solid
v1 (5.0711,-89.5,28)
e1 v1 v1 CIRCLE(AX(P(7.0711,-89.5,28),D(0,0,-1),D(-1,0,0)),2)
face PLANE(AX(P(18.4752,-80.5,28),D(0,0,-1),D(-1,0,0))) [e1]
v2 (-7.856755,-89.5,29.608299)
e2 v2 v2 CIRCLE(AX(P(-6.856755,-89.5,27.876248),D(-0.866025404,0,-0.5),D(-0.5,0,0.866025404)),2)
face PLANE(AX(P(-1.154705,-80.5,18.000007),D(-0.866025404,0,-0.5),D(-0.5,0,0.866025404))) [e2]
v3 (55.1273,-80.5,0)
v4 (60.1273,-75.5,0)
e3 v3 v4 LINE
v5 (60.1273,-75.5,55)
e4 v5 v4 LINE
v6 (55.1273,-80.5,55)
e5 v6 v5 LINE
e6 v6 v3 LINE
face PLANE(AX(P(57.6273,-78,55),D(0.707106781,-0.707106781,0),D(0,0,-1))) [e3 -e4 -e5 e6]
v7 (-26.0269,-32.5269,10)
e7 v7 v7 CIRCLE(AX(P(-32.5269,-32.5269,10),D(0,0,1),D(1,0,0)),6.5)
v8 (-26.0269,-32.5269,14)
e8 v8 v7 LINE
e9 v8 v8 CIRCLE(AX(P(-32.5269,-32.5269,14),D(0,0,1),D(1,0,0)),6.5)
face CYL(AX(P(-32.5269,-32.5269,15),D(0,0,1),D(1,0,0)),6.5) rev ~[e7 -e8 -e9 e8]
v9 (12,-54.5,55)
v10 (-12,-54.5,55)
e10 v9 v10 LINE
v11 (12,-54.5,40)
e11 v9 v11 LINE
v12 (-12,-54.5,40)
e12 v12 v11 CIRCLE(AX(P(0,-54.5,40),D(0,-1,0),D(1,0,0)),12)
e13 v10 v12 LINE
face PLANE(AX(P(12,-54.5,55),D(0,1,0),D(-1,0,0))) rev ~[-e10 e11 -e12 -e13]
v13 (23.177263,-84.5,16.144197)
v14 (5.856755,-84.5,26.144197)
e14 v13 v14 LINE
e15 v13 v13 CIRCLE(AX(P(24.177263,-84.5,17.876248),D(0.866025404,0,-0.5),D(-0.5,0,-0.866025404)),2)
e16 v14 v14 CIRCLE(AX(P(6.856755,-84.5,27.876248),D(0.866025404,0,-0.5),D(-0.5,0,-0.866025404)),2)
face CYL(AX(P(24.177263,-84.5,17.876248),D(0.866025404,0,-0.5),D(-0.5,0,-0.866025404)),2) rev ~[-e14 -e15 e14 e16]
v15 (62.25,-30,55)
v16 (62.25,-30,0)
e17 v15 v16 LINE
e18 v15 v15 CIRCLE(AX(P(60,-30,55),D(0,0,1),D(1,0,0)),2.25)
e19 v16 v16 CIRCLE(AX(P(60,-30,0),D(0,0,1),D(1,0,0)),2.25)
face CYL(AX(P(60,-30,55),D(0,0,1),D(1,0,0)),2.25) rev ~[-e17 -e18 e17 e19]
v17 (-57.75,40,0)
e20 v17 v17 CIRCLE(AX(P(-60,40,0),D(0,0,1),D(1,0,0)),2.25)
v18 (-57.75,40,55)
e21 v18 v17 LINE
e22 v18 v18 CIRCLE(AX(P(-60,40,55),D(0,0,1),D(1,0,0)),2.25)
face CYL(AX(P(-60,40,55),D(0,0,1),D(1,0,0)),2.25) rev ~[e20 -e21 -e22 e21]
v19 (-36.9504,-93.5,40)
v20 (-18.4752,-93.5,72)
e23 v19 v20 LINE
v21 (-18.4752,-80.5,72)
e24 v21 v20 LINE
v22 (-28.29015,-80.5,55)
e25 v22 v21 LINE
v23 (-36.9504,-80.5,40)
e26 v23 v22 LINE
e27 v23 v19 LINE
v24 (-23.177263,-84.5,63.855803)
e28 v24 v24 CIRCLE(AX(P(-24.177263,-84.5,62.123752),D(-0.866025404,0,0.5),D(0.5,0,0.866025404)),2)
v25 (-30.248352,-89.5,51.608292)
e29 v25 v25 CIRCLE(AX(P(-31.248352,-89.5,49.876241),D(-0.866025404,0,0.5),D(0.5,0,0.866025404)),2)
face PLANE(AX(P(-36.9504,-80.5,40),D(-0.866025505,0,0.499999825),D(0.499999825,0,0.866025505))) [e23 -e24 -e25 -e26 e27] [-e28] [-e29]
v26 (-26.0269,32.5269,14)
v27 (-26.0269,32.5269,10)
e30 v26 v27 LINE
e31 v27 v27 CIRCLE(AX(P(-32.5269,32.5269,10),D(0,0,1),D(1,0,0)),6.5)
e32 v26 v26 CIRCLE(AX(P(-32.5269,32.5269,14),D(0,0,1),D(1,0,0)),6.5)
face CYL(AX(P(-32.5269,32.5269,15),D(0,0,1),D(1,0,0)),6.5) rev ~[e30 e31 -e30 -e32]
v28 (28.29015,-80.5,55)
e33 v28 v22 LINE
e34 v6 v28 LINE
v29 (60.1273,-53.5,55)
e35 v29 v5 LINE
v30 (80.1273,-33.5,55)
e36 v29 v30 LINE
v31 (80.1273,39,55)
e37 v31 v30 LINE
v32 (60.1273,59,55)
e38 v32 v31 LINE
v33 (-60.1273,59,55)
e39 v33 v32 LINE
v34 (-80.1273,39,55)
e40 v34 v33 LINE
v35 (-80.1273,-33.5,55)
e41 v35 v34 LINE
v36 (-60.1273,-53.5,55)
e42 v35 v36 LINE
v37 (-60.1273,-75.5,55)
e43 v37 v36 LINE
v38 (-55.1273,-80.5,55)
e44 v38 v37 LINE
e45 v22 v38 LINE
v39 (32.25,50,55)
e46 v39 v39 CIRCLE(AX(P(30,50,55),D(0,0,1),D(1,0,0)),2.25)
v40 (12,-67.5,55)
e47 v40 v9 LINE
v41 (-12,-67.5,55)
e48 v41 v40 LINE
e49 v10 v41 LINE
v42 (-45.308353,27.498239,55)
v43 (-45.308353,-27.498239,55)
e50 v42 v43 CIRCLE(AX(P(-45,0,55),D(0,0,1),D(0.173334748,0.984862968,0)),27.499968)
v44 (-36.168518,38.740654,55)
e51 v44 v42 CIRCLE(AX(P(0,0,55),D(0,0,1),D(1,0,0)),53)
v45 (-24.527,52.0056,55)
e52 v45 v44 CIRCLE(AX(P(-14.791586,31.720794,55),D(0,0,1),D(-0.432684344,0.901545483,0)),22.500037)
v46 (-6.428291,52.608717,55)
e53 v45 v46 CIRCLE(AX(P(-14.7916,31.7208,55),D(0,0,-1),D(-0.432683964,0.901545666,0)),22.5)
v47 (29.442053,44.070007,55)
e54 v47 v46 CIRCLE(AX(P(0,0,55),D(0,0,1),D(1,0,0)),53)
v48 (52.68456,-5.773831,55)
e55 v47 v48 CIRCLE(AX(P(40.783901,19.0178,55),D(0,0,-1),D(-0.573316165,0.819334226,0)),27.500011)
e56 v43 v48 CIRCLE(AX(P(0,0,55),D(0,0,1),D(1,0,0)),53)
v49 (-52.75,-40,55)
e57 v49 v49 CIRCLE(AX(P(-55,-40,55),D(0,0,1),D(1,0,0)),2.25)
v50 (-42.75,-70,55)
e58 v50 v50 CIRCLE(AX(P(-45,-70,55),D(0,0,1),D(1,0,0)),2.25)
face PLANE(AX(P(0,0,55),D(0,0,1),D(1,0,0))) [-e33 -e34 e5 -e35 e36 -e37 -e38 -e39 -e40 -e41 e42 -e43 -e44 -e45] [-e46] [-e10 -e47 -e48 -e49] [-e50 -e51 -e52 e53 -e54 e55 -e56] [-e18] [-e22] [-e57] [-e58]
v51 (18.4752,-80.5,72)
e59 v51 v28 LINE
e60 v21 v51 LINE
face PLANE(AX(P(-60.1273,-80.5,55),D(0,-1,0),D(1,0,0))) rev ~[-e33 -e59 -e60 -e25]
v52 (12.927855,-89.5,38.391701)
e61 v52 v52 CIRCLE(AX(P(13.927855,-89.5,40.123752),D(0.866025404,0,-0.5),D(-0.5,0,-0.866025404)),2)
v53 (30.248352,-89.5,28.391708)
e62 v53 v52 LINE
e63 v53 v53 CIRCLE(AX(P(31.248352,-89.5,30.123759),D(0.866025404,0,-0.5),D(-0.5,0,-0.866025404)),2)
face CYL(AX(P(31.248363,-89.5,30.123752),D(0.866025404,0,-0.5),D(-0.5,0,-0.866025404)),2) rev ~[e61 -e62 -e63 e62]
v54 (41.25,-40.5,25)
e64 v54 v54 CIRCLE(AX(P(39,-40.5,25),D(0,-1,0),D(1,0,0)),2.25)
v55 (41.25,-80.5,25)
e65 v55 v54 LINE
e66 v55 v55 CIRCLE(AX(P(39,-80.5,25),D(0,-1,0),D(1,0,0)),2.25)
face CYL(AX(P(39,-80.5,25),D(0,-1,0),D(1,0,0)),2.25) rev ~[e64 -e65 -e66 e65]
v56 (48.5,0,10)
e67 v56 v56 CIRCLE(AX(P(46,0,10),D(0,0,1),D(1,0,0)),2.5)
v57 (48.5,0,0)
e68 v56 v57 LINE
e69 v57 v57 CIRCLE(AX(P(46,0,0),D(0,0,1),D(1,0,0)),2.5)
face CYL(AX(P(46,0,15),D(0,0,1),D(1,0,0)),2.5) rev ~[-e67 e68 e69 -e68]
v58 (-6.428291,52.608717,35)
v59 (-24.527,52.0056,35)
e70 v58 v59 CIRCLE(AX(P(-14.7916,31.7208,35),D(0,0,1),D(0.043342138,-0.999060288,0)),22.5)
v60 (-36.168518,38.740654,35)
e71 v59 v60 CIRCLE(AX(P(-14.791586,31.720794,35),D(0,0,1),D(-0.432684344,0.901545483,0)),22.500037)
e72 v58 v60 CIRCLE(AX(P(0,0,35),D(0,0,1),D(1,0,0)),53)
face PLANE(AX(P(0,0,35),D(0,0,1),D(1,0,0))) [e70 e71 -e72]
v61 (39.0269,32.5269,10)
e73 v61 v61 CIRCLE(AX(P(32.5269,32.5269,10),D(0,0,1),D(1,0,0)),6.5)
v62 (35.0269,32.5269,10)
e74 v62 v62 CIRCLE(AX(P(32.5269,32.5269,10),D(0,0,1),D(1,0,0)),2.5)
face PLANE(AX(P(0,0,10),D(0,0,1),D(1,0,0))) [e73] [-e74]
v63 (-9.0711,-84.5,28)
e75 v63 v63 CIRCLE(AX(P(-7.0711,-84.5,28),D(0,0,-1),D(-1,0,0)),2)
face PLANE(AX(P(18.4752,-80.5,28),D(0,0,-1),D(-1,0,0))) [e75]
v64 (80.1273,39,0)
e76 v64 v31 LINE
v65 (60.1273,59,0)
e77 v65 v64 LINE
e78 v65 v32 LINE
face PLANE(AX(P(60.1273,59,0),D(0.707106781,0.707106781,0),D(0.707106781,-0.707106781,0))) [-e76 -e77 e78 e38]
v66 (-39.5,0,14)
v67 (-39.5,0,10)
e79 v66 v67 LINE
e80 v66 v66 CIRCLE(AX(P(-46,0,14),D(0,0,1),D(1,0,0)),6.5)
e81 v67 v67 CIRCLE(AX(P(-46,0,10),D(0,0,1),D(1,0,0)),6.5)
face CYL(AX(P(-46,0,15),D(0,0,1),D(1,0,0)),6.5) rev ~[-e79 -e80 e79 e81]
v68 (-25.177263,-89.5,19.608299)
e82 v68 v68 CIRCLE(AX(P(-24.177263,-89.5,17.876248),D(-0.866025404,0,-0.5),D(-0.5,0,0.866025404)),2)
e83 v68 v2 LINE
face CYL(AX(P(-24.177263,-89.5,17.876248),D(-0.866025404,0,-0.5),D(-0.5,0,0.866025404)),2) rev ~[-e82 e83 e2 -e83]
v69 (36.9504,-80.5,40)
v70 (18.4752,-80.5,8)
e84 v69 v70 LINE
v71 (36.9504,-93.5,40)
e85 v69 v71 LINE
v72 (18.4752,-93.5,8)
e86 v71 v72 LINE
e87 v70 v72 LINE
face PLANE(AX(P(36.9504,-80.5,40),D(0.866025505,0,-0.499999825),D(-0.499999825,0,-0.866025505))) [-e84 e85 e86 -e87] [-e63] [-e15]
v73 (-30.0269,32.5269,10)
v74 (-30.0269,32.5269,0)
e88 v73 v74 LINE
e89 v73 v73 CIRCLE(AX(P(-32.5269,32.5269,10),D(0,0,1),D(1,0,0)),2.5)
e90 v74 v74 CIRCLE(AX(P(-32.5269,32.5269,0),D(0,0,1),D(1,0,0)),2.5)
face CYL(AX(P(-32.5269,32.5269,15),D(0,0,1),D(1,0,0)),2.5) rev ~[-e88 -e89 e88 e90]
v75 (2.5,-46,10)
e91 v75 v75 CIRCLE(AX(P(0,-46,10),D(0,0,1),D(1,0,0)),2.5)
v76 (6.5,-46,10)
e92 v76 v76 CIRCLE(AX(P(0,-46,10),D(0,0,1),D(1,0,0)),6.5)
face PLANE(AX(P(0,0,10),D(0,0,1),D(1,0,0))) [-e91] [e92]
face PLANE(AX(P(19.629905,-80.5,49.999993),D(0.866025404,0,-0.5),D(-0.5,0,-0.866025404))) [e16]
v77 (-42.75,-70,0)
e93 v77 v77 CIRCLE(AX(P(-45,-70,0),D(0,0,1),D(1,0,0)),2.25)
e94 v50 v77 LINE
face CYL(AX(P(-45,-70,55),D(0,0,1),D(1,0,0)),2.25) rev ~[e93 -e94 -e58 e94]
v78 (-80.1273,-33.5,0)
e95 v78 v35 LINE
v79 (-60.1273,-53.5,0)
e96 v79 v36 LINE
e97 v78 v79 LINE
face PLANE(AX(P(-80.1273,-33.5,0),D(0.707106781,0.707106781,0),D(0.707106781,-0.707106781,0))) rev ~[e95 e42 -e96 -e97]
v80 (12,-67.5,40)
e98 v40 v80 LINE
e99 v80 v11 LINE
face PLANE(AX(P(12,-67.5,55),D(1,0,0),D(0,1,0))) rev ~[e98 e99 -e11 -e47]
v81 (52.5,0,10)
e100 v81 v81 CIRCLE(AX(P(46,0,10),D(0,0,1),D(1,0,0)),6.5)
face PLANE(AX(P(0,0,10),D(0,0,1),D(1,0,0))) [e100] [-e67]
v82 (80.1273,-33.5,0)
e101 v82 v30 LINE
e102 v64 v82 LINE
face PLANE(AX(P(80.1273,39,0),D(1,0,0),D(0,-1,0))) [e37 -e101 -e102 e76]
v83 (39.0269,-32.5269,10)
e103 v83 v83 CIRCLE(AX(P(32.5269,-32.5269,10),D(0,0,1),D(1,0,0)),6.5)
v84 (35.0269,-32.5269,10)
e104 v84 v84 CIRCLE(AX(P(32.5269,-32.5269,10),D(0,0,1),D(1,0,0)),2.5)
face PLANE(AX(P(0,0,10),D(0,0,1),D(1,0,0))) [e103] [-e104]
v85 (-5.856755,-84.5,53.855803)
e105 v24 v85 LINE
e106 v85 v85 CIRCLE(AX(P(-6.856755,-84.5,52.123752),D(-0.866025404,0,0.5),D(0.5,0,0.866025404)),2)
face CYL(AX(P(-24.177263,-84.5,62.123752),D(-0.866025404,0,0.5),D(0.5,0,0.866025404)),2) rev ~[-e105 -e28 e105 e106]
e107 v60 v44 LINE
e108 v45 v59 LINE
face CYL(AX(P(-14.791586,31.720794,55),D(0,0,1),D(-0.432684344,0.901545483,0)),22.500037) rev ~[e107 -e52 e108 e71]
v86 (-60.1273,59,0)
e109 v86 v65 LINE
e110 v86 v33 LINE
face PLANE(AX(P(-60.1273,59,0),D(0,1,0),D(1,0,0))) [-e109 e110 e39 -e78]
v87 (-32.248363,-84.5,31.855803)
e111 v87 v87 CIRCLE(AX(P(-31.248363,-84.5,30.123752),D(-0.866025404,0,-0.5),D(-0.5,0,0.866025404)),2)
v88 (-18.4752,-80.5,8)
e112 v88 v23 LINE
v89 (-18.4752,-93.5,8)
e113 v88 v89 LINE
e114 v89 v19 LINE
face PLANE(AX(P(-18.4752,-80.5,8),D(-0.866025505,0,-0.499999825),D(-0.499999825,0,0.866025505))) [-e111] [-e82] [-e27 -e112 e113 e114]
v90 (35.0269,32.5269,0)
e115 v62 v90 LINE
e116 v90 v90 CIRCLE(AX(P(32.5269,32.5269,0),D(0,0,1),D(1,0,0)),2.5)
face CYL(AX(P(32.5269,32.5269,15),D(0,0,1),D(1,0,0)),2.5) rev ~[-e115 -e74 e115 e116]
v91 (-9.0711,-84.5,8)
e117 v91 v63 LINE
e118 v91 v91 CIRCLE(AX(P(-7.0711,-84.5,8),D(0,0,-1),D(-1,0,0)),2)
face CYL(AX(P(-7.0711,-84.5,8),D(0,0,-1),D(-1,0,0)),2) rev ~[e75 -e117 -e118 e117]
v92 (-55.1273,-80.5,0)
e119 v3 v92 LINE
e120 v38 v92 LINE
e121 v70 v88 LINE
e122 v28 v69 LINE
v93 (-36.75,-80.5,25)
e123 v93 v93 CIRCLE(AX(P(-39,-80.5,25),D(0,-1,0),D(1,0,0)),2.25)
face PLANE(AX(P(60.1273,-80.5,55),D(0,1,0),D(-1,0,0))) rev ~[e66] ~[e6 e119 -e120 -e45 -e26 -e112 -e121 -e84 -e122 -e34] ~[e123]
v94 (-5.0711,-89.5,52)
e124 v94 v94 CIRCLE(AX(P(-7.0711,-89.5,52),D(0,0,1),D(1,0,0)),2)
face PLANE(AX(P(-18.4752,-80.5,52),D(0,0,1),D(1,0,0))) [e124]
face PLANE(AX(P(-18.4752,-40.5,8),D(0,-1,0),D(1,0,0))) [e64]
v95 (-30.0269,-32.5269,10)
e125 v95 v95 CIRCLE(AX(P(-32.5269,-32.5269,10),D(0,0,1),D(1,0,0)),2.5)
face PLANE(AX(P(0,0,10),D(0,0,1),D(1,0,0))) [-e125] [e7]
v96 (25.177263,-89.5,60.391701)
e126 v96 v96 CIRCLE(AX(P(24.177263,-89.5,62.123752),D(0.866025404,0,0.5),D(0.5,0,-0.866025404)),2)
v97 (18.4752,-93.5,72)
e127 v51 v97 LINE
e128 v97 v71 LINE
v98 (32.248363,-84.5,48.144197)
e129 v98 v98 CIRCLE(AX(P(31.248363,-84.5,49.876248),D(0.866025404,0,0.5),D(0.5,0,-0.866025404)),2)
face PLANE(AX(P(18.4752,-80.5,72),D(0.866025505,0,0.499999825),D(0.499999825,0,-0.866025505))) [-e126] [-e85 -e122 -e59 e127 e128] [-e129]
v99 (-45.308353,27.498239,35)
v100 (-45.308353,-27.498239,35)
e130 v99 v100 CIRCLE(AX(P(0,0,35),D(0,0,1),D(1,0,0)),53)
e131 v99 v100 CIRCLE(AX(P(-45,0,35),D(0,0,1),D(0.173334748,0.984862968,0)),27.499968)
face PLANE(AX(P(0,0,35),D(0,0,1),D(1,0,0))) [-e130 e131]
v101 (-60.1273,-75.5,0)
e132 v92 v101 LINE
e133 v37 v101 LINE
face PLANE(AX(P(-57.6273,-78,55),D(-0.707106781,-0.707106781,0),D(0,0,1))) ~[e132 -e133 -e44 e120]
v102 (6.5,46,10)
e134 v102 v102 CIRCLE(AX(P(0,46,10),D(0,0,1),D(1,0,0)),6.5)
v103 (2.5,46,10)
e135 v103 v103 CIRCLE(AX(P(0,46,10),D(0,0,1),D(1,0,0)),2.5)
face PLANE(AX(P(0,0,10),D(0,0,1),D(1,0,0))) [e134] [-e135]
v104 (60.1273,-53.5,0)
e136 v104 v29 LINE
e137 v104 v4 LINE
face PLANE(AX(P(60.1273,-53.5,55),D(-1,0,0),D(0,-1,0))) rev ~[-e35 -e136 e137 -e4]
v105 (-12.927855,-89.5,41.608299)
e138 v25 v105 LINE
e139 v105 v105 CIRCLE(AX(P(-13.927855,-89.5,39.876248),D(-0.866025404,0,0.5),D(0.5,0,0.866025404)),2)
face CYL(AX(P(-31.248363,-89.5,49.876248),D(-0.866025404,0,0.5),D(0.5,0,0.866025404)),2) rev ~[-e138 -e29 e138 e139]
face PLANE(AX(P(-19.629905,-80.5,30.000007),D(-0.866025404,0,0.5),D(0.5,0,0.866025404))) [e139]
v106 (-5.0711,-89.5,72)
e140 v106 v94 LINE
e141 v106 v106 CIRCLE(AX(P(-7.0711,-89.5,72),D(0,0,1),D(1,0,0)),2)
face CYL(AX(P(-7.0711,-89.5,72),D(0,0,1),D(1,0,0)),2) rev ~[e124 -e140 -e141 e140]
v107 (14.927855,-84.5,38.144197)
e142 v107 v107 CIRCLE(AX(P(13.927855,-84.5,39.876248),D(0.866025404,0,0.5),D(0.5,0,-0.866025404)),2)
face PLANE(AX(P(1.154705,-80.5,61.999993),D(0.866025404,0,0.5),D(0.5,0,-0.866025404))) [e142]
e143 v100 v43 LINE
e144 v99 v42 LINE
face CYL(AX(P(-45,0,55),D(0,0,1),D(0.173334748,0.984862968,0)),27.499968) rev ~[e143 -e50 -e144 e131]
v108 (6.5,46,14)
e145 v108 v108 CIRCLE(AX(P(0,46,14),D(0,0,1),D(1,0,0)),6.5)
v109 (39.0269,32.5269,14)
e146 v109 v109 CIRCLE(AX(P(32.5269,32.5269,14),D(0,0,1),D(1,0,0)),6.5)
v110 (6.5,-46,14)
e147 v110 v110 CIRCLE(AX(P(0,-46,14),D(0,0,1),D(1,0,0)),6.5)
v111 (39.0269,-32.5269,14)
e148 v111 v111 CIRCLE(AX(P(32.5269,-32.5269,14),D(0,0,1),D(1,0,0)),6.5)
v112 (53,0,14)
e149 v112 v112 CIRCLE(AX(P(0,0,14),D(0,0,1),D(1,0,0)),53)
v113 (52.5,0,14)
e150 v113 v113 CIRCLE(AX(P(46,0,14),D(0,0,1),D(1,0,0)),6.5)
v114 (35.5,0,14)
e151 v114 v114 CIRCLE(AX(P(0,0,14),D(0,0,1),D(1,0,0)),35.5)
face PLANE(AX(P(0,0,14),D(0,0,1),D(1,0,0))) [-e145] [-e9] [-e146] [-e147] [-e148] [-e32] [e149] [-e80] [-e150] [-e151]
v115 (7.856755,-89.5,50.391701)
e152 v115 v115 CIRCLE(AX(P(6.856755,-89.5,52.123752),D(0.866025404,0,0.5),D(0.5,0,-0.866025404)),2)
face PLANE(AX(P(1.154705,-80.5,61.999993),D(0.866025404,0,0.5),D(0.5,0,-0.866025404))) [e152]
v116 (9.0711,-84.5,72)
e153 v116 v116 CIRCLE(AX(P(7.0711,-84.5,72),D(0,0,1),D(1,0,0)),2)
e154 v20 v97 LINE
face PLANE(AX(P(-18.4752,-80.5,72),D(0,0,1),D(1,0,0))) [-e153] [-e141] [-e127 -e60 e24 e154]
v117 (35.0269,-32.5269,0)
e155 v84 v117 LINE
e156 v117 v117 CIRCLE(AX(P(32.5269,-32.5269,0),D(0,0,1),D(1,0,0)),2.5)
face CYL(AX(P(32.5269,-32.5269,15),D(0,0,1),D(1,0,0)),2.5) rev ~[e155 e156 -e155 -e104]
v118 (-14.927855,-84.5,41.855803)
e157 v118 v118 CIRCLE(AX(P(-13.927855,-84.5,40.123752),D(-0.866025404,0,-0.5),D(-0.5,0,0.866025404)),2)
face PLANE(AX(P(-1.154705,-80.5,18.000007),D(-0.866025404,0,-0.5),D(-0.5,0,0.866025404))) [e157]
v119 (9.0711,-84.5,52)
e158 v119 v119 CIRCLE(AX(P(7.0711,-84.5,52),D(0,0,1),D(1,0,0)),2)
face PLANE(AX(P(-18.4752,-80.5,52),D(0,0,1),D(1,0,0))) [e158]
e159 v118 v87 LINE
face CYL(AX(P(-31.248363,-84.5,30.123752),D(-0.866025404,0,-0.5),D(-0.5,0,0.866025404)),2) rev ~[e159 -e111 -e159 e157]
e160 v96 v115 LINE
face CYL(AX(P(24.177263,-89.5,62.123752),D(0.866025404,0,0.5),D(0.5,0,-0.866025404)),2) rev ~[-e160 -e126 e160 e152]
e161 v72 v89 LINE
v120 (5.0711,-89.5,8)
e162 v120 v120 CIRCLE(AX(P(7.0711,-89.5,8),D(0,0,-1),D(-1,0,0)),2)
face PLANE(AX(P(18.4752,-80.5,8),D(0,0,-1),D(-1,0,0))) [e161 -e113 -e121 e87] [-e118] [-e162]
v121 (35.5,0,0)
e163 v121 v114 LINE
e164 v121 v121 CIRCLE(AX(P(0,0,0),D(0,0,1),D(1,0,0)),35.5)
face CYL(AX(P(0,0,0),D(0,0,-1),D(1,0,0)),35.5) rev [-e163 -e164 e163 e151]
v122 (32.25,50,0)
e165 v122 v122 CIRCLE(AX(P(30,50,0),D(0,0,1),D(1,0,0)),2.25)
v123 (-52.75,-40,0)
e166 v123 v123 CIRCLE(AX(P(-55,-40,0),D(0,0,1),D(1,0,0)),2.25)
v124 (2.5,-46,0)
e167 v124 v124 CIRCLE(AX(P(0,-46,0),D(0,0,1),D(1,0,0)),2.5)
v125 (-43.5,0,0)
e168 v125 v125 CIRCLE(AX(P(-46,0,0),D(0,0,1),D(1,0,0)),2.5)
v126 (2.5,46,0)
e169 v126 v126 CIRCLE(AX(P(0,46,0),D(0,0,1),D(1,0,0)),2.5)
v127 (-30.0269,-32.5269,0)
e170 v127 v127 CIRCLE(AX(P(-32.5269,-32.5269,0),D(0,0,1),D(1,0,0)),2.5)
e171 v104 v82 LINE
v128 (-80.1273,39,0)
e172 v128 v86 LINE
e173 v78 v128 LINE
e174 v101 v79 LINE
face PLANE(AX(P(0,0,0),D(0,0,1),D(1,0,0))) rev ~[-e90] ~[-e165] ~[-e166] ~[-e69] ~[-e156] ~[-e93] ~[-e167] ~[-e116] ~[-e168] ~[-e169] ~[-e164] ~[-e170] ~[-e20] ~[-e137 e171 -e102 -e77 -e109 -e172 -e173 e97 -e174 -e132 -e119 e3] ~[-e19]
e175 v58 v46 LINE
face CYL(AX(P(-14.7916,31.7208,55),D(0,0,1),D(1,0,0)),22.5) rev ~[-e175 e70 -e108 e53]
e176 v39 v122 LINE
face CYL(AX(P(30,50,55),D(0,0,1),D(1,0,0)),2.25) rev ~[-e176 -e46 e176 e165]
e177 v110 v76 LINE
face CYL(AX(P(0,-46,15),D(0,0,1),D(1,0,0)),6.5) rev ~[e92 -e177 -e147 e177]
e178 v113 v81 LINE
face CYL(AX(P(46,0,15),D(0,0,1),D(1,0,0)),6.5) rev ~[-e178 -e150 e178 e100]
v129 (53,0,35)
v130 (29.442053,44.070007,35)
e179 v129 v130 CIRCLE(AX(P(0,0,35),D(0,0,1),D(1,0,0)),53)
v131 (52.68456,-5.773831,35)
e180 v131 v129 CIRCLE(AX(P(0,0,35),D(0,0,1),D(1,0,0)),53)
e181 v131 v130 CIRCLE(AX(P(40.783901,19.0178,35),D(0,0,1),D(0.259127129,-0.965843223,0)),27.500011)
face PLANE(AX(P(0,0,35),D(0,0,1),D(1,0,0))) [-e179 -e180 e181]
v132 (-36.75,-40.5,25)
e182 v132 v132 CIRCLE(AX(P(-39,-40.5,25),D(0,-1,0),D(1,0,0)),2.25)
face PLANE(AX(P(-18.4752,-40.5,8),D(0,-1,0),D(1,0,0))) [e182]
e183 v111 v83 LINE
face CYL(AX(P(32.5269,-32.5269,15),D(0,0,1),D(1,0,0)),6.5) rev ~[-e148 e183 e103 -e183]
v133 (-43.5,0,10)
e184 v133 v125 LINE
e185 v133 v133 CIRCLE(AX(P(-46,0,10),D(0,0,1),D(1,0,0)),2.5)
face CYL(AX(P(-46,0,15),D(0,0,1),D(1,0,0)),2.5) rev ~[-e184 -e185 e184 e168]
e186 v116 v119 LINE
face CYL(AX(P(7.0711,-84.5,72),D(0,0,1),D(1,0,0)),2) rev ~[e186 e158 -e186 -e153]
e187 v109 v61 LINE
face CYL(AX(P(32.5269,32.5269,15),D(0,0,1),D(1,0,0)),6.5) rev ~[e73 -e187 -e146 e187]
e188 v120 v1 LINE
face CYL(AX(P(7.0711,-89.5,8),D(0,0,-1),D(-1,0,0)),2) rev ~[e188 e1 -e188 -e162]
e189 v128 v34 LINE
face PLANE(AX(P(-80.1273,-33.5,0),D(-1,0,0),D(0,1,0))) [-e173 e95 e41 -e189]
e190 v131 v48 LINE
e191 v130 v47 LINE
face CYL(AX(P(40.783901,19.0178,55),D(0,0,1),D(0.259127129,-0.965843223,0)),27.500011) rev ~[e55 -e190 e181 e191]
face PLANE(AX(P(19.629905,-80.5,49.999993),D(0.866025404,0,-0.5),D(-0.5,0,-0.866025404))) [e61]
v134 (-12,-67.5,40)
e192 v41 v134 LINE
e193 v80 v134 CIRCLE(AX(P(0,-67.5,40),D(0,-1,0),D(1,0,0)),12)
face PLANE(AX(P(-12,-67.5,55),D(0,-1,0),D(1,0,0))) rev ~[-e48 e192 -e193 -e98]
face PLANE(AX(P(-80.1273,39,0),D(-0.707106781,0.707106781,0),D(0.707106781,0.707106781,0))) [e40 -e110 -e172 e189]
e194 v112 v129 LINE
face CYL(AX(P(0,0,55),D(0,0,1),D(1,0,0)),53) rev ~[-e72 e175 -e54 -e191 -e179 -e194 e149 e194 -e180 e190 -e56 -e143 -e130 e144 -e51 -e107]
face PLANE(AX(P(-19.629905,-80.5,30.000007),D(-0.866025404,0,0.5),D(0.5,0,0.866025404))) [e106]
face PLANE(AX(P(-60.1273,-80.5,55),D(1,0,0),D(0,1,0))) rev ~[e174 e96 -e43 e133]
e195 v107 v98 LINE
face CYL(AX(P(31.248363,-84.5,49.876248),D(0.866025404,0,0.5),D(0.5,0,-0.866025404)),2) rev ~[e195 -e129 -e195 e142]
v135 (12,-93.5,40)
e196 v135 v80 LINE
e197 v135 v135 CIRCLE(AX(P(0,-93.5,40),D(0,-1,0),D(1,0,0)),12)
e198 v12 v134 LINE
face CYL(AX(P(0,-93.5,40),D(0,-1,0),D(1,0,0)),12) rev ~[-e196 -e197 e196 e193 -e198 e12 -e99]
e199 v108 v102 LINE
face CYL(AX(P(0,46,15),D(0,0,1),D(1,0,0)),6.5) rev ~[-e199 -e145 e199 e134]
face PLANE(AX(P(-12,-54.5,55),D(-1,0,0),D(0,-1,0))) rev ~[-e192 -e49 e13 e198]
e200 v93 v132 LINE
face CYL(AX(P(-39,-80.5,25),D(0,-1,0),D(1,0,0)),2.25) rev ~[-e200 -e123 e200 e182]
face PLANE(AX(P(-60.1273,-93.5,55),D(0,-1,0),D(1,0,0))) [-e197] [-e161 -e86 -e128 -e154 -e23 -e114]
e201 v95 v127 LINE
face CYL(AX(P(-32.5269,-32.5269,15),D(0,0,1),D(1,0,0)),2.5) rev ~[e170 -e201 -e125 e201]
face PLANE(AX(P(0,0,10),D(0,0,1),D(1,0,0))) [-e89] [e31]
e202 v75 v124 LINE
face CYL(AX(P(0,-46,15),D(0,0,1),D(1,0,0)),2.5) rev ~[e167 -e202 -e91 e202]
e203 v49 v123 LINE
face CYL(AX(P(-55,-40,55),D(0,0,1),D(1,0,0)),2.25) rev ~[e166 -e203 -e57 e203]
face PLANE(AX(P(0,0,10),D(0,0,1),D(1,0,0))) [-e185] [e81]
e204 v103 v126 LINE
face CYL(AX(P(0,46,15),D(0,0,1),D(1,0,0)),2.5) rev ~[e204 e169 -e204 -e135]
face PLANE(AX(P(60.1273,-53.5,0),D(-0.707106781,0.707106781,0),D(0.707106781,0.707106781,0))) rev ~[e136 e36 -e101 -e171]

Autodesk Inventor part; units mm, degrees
ref_plane "YZ Plane" through (0, 0, 0) normal (1, 0, 0) x (0, 1, 0)
ref_plane "XZ Plane" through (0, 0, 0) normal (0, 1, 0) x (-1, 0, 0)
ref_plane "XY Plane" through (0, 0, 0) normal (0, 0, 1) x (1, 0, 0)
sketch "Sketch1" plane through (0, 0, 0) normal (0, 0, 1) x (1, 0, 0)
  line L0 (-80.1273, -33.5) -> (-80.1273, 39)
  line L1 (80.1273, 39) -> (80.1273, -33.5)
  line L2 (-80.1273, 39) -> (-60.1273, 59)
  line L3 (-60.1273, 59) -> (60.1273, 59)
  line L4 (60.1273, 59) -> (80.1273, 39)
  line L5 (-80.1273, -33.5) -> (-60.1273, -53.5)
  line L6 (-60.1273, -53.5) -> (60.1273, -53.5)
  line L7 (60.1273, -53.5) -> (80.1273, -33.5)
  circle A0 centre (0, 0) radius 35.5
  point P0 (0, 59)
  point P1 (-80.1273, 2.75)
  dimension "d1" = 160.2547
  dimension "d2" = 72.5
  dimension "d3" = 135
  dimension "d4" = 135
  dimension "d5" = 28.2843
  dimension "d6" = 28.2843
  dimension "d7" = 135
  dimension "d8" = 71
  dimension "d14" = 59
extrude "Extrusion1" add sketch "Sketch1" along normal blind 55
sketch "Sketch2" plane through (0, 0, 55) normal (0, 0, 1) x (1, 0, 0)
  circle A0 centre (0, 0) radius 53
  dimension "d11" = 106
extrude "Extrusion2" cut sketch "Sketch2" against normal blind 40
sketch "Sketch3" plane through (0, 0, 55) normal (0, 0, 1) x (1, 0, 0)
  arc A0 (-24.527, 52.0056) -> (-13.8164, 9.2419) centre (-14.7916, 31.7208) ccw
  arc A1 (-40.2333, 27.0837) -> (-40.2333, -27.0837) centre (-45, 0) ccw
  arc A2 (47.9099, -7.5429) -> (25.0177, 41.5495) centre (40.7839, 19.0178) ccw
  arc A3 (-24.527, 52.0056) -> (-13.8164, 9.2419) centre (-14.7916, 31.7208) ccw
  circle A4 centre (-14.7916, 31.7208) radius 22.5
  circle A5 centre (40.7839, 19.0178) radius 27.5
  circle A6 centre (-45, 0) radius 27.5
  line L0 (-45, 0) -> (0, 0) construction
  line L1 (0, 0) -> (-14.7916, 31.7208) construction
  line L2 (0, 0) -> (40.7839, 19.0178) construction
  dimension "d15" = 22.5
  dimension "d16" = 27.5
  dimension "d17" = 45
  dimension "d18" = 35
  dimension "d19" = 45
  dimension "d20" = 65
  dimension "d21" = 90
  dimension "d22" = 27.5
extrude "Extrusion3" cut sketch "Sketch3" against normal blind 20
sketch "Sketch4" plane through (0, 0, 15) normal (0, 0, 1) x (1, 0, 0)
  circle A0 centre (46, 0) radius 2.5
  circle A1 centre (32.5269, 32.5269) radius 2.5
  circle A2 centre (0, 46) radius 2.5
  circle A3 centre (-32.5269, 32.5269) radius 2.5
  circle A4 centre (-46, 0) radius 2.5
  circle A5 centre (-32.5269, -32.5269) radius 2.5
  circle A6 centre (0, -46) radius 2.5
  circle A7 centre (32.5269, -32.5269) radius 2.5
  point P0 (0, 0)
  dimension "d25" = 46
  dimension "d26" = 5
  dimension "d29" = 360
extrude "Extrusion4" cut sketch "Sketch4" against normal through all
sketch "Sketch6" plane through (0, 0, 55) normal (0, 0, 1) x (1, 0, 0)
  line L0 (-60.1273, -53.5) -> (-80.1273, -33.5) projected
  line L1 (-60.1273, -53.5) -> (60.1273, -53.5)
  line L2 (60.1273, -53.5) -> (60.1273, -80.5)
  line L3 (60.1273, -80.5) -> (-60.1273, -80.5)
  line L4 (-60.1273, -80.5) -> (-60.1273, -53.5)
  point P0 (0, 0)
  dimension "d33" = 27
extrude "Extrusion5" add sketch "Sketch6" against normal up to surface (55 mm away) from surface at 0
sketch "Sketch7" plane through (0, 0, 15) normal (0, 0, 1) x (1, 0, 0)
  circle A0 centre (46, 0) radius 6.5
  circle A1 centre (46, 0) radius 2.5 projected
  circle A2 centre (32.5269, 32.5269) radius 6.5
  circle A3 centre (0, 46) radius 6.5
  circle A4 centre (-32.5269, 32.5269) radius 6.5
  circle A5 centre (-46, 0) radius 6.5
  circle A6 centre (-32.5269, -32.5269) radius 6.5
  circle A7 centre (0, -46) radius 6.5
  circle A8 centre (32.5269, -32.5269) radius 6.5
  point P0 (0, 0)
  dimension "d36" = 13
  dimension "d39" = 360
extrude "Extrusion6" cut sketch "Sketch7" against normal blind 5 contours A0 | A1 | A2 | A3 | A4 | A5 | A6 | A7 | A8
sketch "Sketch8" plane through (0, 0, 15) normal (0, 0, 1) x (1, 0, 0)
  circle A0 centre (0, -46) radius 6.5 projected
  circle A1 centre (-46, 0) radius 6.5 projected
  circle A2 centre (0, 46) radius 6.5 projected
  circle A3 centre (46, 0) radius 6.5 projected
  circle A4 centre (32.5269, 32.5269) radius 6.5 projected
  circle A5 centre (-32.5269, 32.5269) radius 6.5 projected
  circle A6 centre (-32.5269, -32.5269) radius 6.5 projected
  circle A7 centre (32.5269, -32.5269) radius 6.5 projected
  circle A8 centre (0, 0) radius 35.5 projected
  circle A9 centre (0, 0) radius 53 projected
extrude "Extrusion7" cut sketch "Sketch8" against normal blind 1
sketch "Sketch9" plane through (-60.1273, -80.5, 55) normal (0, -1, 0) x (1, 0, 0)
  line L0 (97.0777, -15) -> (78.6025, -47)
  line L1 (78.6025, -47) -> (41.6521, -47)
  line L2 (41.6521, -47) -> (23.1769, -15)
  line L3 (23.1769, -15) -> (41.6521, 17)
  line L4 (41.6521, 17) -> (78.6025, 17)
  line L5 (78.6025, 17) -> (97.0777, -15)
  line L6 (120.2547, -55) -> (0, -55) projected
  circle A0 centre (60.1273, -15) radius 12
  point P0 (60.1273, -55)
  point P1 (60.1273, -55)
  dimension "d45" = 64
  dimension "d46" = 8
  dimension "d47" = 24
extrude "Extrusion8" add sketch "Sketch9" along normal blind 13
sketch "Sketch10" plane through (-60.1273, -93.5, 55) normal (0, -1, 0) x (1, 0, 0)
  circle A0 centre (60.1273, -15) radius 12 projected
  point P0 (60.1273, -55)
extrude "Extrusion9" cut sketch "Sketch10" against normal blind 39
sketch "Sketch11" plane through (0, 0, 55) normal (0, 0, 1) x (1, 0, 0)
  line L0 (12, -54.5) -> (-12, -54.5) projected
  line L1 (12, -93.5) -> (-12, -93.5) projected
  line L2 (12, -54.5) -> (-12, -54.5)
  line L3 (-12, -54.5) -> (-12, -67.5)
  line L4 (-12, -67.5) -> (12, -67.5)
  line L5 (12, -67.5) -> (12, -54.5)
  line L6 (-12, -54.5) -> (-12, -93.5) projected
  point P0 (0, 0)
  dimension "d52" = 13
extrude "Extrusion10" cut sketch "Sketch11" against normal blind 15
sketch "Sketch12" plane through (-18.4752, -80.5, 72) normal (0, 0, 1) x (1, 0, 0)
  line L0 (0, -13) -> (0, 0)
  line L1 (36.9504, -13) -> (0, -13)
  line L2 (36.9504, -13) -> (36.9504, 0)
  circle A0 centre (11.4041, -9) radius 2
  circle A1 centre (25.5463, -4) radius 2
  line L3 (11.4041, -9) -> (25.5463, -4) construction
  line L4 (0, 0) -> (36.9504, 0)
  line L5 (0, 0) -> (0, -13) projected
  line L6 (36.9504, -13) -> (0, -13) projected
  point P0 (18.4752, 80.5)
  point P1 (18.4752, -6.5)
  point P2 (18.4752, 0)
  point P3 (0, -6.5)
  point P4 (0, -6.5)
  point P5 (18.4752, -13)
  dimension "d55" = 4
  dimension "d56" = 4
  dimension "d57" = 15
  dimension "d58" = 5
extrude "Extrusion11" cut sketch "Sketch12" against normal blind 20 contours A0 | A1
pattern_circular "Circular Pattern1" count 6 over 360 about axis through (0, -80.5, 40) along (0, -1, 0) of "Extrusion11"
chamfer "Chamfer1" distance 5 angle 45 2 edges at (60.1273, -80.5, 27.5) (-60.1273, -80.5, 27.5)
sketch "Sketch13" plane through (0, 0, 55) normal (0, 0, 1) x (1, 0, 0)
  line L0 (-45, -70) -> (45, -70) construction
  line L1 (-60, 40) -> (60, -30) construction
  circle A0 centre (-60, 40) radius 2.25
  circle A1 centre (60, -30) radius 2.25
  circle A2 centre (-45, -70) radius 2.25
  circle A3 centre (45, -70) radius 2.25
  circle A4 centre (-55, -40) radius 2.25
  circle A5 centre (30, 50) radius 2.25
  point P0 (0, 0)
  point P1 (0, -70)
  dimension "d67" = 30
  dimension "d68" = 60
  dimension "d69" = 60
  dimension "d70" = 40
  dimension "d71" = 70
  dimension "d72" = 90
  dimension "d73" = 4.5
  dimension "d74" = 4.5
  dimension "d75" = 4.5
  dimension "d76" = 4.5
  dimension "d79" = 4.5
  dimension "d80" = 40
  dimension "d81" = 55
  dimension "d82" = 4.5
  dimension "d83" = 50
  dimension "d84" = 30
extrude "Extrusion12" cut sketch "Sketch13" against normal through all contours A0 | A1 | A2 | A4 | A5
sketch "Sketch14" plane through (-18.4752, -80.5, 8) normal (0, -1, 0) x (1, 0, 0)
  line L0 (-20.5248, 17) -> (57.4752, 17) construction
  line L1 (73.6025, -8) -> (-36.6521, -8) projected
  circle A0 centre (-20.5248, 17) radius 2.25
  circle A1 centre (57.4752, 17) radius 2.25
  line L2 (73.6025, 47) -> (46.7654, 47) projected
  point P0 (18.4752, -8)
  point P1 (18.4752, 17)
  point P2 (18.4752, -8)
  dimension "d85" = 78
  dimension "d86" = 4.5
  dimension "d87" = 4.5
  dimension "d88" = 30
extrude "Extrusion13" cut sketch "Sketch14" against normal blind 40
properties part number "XT-SM-01" material "ABS Plastic"
